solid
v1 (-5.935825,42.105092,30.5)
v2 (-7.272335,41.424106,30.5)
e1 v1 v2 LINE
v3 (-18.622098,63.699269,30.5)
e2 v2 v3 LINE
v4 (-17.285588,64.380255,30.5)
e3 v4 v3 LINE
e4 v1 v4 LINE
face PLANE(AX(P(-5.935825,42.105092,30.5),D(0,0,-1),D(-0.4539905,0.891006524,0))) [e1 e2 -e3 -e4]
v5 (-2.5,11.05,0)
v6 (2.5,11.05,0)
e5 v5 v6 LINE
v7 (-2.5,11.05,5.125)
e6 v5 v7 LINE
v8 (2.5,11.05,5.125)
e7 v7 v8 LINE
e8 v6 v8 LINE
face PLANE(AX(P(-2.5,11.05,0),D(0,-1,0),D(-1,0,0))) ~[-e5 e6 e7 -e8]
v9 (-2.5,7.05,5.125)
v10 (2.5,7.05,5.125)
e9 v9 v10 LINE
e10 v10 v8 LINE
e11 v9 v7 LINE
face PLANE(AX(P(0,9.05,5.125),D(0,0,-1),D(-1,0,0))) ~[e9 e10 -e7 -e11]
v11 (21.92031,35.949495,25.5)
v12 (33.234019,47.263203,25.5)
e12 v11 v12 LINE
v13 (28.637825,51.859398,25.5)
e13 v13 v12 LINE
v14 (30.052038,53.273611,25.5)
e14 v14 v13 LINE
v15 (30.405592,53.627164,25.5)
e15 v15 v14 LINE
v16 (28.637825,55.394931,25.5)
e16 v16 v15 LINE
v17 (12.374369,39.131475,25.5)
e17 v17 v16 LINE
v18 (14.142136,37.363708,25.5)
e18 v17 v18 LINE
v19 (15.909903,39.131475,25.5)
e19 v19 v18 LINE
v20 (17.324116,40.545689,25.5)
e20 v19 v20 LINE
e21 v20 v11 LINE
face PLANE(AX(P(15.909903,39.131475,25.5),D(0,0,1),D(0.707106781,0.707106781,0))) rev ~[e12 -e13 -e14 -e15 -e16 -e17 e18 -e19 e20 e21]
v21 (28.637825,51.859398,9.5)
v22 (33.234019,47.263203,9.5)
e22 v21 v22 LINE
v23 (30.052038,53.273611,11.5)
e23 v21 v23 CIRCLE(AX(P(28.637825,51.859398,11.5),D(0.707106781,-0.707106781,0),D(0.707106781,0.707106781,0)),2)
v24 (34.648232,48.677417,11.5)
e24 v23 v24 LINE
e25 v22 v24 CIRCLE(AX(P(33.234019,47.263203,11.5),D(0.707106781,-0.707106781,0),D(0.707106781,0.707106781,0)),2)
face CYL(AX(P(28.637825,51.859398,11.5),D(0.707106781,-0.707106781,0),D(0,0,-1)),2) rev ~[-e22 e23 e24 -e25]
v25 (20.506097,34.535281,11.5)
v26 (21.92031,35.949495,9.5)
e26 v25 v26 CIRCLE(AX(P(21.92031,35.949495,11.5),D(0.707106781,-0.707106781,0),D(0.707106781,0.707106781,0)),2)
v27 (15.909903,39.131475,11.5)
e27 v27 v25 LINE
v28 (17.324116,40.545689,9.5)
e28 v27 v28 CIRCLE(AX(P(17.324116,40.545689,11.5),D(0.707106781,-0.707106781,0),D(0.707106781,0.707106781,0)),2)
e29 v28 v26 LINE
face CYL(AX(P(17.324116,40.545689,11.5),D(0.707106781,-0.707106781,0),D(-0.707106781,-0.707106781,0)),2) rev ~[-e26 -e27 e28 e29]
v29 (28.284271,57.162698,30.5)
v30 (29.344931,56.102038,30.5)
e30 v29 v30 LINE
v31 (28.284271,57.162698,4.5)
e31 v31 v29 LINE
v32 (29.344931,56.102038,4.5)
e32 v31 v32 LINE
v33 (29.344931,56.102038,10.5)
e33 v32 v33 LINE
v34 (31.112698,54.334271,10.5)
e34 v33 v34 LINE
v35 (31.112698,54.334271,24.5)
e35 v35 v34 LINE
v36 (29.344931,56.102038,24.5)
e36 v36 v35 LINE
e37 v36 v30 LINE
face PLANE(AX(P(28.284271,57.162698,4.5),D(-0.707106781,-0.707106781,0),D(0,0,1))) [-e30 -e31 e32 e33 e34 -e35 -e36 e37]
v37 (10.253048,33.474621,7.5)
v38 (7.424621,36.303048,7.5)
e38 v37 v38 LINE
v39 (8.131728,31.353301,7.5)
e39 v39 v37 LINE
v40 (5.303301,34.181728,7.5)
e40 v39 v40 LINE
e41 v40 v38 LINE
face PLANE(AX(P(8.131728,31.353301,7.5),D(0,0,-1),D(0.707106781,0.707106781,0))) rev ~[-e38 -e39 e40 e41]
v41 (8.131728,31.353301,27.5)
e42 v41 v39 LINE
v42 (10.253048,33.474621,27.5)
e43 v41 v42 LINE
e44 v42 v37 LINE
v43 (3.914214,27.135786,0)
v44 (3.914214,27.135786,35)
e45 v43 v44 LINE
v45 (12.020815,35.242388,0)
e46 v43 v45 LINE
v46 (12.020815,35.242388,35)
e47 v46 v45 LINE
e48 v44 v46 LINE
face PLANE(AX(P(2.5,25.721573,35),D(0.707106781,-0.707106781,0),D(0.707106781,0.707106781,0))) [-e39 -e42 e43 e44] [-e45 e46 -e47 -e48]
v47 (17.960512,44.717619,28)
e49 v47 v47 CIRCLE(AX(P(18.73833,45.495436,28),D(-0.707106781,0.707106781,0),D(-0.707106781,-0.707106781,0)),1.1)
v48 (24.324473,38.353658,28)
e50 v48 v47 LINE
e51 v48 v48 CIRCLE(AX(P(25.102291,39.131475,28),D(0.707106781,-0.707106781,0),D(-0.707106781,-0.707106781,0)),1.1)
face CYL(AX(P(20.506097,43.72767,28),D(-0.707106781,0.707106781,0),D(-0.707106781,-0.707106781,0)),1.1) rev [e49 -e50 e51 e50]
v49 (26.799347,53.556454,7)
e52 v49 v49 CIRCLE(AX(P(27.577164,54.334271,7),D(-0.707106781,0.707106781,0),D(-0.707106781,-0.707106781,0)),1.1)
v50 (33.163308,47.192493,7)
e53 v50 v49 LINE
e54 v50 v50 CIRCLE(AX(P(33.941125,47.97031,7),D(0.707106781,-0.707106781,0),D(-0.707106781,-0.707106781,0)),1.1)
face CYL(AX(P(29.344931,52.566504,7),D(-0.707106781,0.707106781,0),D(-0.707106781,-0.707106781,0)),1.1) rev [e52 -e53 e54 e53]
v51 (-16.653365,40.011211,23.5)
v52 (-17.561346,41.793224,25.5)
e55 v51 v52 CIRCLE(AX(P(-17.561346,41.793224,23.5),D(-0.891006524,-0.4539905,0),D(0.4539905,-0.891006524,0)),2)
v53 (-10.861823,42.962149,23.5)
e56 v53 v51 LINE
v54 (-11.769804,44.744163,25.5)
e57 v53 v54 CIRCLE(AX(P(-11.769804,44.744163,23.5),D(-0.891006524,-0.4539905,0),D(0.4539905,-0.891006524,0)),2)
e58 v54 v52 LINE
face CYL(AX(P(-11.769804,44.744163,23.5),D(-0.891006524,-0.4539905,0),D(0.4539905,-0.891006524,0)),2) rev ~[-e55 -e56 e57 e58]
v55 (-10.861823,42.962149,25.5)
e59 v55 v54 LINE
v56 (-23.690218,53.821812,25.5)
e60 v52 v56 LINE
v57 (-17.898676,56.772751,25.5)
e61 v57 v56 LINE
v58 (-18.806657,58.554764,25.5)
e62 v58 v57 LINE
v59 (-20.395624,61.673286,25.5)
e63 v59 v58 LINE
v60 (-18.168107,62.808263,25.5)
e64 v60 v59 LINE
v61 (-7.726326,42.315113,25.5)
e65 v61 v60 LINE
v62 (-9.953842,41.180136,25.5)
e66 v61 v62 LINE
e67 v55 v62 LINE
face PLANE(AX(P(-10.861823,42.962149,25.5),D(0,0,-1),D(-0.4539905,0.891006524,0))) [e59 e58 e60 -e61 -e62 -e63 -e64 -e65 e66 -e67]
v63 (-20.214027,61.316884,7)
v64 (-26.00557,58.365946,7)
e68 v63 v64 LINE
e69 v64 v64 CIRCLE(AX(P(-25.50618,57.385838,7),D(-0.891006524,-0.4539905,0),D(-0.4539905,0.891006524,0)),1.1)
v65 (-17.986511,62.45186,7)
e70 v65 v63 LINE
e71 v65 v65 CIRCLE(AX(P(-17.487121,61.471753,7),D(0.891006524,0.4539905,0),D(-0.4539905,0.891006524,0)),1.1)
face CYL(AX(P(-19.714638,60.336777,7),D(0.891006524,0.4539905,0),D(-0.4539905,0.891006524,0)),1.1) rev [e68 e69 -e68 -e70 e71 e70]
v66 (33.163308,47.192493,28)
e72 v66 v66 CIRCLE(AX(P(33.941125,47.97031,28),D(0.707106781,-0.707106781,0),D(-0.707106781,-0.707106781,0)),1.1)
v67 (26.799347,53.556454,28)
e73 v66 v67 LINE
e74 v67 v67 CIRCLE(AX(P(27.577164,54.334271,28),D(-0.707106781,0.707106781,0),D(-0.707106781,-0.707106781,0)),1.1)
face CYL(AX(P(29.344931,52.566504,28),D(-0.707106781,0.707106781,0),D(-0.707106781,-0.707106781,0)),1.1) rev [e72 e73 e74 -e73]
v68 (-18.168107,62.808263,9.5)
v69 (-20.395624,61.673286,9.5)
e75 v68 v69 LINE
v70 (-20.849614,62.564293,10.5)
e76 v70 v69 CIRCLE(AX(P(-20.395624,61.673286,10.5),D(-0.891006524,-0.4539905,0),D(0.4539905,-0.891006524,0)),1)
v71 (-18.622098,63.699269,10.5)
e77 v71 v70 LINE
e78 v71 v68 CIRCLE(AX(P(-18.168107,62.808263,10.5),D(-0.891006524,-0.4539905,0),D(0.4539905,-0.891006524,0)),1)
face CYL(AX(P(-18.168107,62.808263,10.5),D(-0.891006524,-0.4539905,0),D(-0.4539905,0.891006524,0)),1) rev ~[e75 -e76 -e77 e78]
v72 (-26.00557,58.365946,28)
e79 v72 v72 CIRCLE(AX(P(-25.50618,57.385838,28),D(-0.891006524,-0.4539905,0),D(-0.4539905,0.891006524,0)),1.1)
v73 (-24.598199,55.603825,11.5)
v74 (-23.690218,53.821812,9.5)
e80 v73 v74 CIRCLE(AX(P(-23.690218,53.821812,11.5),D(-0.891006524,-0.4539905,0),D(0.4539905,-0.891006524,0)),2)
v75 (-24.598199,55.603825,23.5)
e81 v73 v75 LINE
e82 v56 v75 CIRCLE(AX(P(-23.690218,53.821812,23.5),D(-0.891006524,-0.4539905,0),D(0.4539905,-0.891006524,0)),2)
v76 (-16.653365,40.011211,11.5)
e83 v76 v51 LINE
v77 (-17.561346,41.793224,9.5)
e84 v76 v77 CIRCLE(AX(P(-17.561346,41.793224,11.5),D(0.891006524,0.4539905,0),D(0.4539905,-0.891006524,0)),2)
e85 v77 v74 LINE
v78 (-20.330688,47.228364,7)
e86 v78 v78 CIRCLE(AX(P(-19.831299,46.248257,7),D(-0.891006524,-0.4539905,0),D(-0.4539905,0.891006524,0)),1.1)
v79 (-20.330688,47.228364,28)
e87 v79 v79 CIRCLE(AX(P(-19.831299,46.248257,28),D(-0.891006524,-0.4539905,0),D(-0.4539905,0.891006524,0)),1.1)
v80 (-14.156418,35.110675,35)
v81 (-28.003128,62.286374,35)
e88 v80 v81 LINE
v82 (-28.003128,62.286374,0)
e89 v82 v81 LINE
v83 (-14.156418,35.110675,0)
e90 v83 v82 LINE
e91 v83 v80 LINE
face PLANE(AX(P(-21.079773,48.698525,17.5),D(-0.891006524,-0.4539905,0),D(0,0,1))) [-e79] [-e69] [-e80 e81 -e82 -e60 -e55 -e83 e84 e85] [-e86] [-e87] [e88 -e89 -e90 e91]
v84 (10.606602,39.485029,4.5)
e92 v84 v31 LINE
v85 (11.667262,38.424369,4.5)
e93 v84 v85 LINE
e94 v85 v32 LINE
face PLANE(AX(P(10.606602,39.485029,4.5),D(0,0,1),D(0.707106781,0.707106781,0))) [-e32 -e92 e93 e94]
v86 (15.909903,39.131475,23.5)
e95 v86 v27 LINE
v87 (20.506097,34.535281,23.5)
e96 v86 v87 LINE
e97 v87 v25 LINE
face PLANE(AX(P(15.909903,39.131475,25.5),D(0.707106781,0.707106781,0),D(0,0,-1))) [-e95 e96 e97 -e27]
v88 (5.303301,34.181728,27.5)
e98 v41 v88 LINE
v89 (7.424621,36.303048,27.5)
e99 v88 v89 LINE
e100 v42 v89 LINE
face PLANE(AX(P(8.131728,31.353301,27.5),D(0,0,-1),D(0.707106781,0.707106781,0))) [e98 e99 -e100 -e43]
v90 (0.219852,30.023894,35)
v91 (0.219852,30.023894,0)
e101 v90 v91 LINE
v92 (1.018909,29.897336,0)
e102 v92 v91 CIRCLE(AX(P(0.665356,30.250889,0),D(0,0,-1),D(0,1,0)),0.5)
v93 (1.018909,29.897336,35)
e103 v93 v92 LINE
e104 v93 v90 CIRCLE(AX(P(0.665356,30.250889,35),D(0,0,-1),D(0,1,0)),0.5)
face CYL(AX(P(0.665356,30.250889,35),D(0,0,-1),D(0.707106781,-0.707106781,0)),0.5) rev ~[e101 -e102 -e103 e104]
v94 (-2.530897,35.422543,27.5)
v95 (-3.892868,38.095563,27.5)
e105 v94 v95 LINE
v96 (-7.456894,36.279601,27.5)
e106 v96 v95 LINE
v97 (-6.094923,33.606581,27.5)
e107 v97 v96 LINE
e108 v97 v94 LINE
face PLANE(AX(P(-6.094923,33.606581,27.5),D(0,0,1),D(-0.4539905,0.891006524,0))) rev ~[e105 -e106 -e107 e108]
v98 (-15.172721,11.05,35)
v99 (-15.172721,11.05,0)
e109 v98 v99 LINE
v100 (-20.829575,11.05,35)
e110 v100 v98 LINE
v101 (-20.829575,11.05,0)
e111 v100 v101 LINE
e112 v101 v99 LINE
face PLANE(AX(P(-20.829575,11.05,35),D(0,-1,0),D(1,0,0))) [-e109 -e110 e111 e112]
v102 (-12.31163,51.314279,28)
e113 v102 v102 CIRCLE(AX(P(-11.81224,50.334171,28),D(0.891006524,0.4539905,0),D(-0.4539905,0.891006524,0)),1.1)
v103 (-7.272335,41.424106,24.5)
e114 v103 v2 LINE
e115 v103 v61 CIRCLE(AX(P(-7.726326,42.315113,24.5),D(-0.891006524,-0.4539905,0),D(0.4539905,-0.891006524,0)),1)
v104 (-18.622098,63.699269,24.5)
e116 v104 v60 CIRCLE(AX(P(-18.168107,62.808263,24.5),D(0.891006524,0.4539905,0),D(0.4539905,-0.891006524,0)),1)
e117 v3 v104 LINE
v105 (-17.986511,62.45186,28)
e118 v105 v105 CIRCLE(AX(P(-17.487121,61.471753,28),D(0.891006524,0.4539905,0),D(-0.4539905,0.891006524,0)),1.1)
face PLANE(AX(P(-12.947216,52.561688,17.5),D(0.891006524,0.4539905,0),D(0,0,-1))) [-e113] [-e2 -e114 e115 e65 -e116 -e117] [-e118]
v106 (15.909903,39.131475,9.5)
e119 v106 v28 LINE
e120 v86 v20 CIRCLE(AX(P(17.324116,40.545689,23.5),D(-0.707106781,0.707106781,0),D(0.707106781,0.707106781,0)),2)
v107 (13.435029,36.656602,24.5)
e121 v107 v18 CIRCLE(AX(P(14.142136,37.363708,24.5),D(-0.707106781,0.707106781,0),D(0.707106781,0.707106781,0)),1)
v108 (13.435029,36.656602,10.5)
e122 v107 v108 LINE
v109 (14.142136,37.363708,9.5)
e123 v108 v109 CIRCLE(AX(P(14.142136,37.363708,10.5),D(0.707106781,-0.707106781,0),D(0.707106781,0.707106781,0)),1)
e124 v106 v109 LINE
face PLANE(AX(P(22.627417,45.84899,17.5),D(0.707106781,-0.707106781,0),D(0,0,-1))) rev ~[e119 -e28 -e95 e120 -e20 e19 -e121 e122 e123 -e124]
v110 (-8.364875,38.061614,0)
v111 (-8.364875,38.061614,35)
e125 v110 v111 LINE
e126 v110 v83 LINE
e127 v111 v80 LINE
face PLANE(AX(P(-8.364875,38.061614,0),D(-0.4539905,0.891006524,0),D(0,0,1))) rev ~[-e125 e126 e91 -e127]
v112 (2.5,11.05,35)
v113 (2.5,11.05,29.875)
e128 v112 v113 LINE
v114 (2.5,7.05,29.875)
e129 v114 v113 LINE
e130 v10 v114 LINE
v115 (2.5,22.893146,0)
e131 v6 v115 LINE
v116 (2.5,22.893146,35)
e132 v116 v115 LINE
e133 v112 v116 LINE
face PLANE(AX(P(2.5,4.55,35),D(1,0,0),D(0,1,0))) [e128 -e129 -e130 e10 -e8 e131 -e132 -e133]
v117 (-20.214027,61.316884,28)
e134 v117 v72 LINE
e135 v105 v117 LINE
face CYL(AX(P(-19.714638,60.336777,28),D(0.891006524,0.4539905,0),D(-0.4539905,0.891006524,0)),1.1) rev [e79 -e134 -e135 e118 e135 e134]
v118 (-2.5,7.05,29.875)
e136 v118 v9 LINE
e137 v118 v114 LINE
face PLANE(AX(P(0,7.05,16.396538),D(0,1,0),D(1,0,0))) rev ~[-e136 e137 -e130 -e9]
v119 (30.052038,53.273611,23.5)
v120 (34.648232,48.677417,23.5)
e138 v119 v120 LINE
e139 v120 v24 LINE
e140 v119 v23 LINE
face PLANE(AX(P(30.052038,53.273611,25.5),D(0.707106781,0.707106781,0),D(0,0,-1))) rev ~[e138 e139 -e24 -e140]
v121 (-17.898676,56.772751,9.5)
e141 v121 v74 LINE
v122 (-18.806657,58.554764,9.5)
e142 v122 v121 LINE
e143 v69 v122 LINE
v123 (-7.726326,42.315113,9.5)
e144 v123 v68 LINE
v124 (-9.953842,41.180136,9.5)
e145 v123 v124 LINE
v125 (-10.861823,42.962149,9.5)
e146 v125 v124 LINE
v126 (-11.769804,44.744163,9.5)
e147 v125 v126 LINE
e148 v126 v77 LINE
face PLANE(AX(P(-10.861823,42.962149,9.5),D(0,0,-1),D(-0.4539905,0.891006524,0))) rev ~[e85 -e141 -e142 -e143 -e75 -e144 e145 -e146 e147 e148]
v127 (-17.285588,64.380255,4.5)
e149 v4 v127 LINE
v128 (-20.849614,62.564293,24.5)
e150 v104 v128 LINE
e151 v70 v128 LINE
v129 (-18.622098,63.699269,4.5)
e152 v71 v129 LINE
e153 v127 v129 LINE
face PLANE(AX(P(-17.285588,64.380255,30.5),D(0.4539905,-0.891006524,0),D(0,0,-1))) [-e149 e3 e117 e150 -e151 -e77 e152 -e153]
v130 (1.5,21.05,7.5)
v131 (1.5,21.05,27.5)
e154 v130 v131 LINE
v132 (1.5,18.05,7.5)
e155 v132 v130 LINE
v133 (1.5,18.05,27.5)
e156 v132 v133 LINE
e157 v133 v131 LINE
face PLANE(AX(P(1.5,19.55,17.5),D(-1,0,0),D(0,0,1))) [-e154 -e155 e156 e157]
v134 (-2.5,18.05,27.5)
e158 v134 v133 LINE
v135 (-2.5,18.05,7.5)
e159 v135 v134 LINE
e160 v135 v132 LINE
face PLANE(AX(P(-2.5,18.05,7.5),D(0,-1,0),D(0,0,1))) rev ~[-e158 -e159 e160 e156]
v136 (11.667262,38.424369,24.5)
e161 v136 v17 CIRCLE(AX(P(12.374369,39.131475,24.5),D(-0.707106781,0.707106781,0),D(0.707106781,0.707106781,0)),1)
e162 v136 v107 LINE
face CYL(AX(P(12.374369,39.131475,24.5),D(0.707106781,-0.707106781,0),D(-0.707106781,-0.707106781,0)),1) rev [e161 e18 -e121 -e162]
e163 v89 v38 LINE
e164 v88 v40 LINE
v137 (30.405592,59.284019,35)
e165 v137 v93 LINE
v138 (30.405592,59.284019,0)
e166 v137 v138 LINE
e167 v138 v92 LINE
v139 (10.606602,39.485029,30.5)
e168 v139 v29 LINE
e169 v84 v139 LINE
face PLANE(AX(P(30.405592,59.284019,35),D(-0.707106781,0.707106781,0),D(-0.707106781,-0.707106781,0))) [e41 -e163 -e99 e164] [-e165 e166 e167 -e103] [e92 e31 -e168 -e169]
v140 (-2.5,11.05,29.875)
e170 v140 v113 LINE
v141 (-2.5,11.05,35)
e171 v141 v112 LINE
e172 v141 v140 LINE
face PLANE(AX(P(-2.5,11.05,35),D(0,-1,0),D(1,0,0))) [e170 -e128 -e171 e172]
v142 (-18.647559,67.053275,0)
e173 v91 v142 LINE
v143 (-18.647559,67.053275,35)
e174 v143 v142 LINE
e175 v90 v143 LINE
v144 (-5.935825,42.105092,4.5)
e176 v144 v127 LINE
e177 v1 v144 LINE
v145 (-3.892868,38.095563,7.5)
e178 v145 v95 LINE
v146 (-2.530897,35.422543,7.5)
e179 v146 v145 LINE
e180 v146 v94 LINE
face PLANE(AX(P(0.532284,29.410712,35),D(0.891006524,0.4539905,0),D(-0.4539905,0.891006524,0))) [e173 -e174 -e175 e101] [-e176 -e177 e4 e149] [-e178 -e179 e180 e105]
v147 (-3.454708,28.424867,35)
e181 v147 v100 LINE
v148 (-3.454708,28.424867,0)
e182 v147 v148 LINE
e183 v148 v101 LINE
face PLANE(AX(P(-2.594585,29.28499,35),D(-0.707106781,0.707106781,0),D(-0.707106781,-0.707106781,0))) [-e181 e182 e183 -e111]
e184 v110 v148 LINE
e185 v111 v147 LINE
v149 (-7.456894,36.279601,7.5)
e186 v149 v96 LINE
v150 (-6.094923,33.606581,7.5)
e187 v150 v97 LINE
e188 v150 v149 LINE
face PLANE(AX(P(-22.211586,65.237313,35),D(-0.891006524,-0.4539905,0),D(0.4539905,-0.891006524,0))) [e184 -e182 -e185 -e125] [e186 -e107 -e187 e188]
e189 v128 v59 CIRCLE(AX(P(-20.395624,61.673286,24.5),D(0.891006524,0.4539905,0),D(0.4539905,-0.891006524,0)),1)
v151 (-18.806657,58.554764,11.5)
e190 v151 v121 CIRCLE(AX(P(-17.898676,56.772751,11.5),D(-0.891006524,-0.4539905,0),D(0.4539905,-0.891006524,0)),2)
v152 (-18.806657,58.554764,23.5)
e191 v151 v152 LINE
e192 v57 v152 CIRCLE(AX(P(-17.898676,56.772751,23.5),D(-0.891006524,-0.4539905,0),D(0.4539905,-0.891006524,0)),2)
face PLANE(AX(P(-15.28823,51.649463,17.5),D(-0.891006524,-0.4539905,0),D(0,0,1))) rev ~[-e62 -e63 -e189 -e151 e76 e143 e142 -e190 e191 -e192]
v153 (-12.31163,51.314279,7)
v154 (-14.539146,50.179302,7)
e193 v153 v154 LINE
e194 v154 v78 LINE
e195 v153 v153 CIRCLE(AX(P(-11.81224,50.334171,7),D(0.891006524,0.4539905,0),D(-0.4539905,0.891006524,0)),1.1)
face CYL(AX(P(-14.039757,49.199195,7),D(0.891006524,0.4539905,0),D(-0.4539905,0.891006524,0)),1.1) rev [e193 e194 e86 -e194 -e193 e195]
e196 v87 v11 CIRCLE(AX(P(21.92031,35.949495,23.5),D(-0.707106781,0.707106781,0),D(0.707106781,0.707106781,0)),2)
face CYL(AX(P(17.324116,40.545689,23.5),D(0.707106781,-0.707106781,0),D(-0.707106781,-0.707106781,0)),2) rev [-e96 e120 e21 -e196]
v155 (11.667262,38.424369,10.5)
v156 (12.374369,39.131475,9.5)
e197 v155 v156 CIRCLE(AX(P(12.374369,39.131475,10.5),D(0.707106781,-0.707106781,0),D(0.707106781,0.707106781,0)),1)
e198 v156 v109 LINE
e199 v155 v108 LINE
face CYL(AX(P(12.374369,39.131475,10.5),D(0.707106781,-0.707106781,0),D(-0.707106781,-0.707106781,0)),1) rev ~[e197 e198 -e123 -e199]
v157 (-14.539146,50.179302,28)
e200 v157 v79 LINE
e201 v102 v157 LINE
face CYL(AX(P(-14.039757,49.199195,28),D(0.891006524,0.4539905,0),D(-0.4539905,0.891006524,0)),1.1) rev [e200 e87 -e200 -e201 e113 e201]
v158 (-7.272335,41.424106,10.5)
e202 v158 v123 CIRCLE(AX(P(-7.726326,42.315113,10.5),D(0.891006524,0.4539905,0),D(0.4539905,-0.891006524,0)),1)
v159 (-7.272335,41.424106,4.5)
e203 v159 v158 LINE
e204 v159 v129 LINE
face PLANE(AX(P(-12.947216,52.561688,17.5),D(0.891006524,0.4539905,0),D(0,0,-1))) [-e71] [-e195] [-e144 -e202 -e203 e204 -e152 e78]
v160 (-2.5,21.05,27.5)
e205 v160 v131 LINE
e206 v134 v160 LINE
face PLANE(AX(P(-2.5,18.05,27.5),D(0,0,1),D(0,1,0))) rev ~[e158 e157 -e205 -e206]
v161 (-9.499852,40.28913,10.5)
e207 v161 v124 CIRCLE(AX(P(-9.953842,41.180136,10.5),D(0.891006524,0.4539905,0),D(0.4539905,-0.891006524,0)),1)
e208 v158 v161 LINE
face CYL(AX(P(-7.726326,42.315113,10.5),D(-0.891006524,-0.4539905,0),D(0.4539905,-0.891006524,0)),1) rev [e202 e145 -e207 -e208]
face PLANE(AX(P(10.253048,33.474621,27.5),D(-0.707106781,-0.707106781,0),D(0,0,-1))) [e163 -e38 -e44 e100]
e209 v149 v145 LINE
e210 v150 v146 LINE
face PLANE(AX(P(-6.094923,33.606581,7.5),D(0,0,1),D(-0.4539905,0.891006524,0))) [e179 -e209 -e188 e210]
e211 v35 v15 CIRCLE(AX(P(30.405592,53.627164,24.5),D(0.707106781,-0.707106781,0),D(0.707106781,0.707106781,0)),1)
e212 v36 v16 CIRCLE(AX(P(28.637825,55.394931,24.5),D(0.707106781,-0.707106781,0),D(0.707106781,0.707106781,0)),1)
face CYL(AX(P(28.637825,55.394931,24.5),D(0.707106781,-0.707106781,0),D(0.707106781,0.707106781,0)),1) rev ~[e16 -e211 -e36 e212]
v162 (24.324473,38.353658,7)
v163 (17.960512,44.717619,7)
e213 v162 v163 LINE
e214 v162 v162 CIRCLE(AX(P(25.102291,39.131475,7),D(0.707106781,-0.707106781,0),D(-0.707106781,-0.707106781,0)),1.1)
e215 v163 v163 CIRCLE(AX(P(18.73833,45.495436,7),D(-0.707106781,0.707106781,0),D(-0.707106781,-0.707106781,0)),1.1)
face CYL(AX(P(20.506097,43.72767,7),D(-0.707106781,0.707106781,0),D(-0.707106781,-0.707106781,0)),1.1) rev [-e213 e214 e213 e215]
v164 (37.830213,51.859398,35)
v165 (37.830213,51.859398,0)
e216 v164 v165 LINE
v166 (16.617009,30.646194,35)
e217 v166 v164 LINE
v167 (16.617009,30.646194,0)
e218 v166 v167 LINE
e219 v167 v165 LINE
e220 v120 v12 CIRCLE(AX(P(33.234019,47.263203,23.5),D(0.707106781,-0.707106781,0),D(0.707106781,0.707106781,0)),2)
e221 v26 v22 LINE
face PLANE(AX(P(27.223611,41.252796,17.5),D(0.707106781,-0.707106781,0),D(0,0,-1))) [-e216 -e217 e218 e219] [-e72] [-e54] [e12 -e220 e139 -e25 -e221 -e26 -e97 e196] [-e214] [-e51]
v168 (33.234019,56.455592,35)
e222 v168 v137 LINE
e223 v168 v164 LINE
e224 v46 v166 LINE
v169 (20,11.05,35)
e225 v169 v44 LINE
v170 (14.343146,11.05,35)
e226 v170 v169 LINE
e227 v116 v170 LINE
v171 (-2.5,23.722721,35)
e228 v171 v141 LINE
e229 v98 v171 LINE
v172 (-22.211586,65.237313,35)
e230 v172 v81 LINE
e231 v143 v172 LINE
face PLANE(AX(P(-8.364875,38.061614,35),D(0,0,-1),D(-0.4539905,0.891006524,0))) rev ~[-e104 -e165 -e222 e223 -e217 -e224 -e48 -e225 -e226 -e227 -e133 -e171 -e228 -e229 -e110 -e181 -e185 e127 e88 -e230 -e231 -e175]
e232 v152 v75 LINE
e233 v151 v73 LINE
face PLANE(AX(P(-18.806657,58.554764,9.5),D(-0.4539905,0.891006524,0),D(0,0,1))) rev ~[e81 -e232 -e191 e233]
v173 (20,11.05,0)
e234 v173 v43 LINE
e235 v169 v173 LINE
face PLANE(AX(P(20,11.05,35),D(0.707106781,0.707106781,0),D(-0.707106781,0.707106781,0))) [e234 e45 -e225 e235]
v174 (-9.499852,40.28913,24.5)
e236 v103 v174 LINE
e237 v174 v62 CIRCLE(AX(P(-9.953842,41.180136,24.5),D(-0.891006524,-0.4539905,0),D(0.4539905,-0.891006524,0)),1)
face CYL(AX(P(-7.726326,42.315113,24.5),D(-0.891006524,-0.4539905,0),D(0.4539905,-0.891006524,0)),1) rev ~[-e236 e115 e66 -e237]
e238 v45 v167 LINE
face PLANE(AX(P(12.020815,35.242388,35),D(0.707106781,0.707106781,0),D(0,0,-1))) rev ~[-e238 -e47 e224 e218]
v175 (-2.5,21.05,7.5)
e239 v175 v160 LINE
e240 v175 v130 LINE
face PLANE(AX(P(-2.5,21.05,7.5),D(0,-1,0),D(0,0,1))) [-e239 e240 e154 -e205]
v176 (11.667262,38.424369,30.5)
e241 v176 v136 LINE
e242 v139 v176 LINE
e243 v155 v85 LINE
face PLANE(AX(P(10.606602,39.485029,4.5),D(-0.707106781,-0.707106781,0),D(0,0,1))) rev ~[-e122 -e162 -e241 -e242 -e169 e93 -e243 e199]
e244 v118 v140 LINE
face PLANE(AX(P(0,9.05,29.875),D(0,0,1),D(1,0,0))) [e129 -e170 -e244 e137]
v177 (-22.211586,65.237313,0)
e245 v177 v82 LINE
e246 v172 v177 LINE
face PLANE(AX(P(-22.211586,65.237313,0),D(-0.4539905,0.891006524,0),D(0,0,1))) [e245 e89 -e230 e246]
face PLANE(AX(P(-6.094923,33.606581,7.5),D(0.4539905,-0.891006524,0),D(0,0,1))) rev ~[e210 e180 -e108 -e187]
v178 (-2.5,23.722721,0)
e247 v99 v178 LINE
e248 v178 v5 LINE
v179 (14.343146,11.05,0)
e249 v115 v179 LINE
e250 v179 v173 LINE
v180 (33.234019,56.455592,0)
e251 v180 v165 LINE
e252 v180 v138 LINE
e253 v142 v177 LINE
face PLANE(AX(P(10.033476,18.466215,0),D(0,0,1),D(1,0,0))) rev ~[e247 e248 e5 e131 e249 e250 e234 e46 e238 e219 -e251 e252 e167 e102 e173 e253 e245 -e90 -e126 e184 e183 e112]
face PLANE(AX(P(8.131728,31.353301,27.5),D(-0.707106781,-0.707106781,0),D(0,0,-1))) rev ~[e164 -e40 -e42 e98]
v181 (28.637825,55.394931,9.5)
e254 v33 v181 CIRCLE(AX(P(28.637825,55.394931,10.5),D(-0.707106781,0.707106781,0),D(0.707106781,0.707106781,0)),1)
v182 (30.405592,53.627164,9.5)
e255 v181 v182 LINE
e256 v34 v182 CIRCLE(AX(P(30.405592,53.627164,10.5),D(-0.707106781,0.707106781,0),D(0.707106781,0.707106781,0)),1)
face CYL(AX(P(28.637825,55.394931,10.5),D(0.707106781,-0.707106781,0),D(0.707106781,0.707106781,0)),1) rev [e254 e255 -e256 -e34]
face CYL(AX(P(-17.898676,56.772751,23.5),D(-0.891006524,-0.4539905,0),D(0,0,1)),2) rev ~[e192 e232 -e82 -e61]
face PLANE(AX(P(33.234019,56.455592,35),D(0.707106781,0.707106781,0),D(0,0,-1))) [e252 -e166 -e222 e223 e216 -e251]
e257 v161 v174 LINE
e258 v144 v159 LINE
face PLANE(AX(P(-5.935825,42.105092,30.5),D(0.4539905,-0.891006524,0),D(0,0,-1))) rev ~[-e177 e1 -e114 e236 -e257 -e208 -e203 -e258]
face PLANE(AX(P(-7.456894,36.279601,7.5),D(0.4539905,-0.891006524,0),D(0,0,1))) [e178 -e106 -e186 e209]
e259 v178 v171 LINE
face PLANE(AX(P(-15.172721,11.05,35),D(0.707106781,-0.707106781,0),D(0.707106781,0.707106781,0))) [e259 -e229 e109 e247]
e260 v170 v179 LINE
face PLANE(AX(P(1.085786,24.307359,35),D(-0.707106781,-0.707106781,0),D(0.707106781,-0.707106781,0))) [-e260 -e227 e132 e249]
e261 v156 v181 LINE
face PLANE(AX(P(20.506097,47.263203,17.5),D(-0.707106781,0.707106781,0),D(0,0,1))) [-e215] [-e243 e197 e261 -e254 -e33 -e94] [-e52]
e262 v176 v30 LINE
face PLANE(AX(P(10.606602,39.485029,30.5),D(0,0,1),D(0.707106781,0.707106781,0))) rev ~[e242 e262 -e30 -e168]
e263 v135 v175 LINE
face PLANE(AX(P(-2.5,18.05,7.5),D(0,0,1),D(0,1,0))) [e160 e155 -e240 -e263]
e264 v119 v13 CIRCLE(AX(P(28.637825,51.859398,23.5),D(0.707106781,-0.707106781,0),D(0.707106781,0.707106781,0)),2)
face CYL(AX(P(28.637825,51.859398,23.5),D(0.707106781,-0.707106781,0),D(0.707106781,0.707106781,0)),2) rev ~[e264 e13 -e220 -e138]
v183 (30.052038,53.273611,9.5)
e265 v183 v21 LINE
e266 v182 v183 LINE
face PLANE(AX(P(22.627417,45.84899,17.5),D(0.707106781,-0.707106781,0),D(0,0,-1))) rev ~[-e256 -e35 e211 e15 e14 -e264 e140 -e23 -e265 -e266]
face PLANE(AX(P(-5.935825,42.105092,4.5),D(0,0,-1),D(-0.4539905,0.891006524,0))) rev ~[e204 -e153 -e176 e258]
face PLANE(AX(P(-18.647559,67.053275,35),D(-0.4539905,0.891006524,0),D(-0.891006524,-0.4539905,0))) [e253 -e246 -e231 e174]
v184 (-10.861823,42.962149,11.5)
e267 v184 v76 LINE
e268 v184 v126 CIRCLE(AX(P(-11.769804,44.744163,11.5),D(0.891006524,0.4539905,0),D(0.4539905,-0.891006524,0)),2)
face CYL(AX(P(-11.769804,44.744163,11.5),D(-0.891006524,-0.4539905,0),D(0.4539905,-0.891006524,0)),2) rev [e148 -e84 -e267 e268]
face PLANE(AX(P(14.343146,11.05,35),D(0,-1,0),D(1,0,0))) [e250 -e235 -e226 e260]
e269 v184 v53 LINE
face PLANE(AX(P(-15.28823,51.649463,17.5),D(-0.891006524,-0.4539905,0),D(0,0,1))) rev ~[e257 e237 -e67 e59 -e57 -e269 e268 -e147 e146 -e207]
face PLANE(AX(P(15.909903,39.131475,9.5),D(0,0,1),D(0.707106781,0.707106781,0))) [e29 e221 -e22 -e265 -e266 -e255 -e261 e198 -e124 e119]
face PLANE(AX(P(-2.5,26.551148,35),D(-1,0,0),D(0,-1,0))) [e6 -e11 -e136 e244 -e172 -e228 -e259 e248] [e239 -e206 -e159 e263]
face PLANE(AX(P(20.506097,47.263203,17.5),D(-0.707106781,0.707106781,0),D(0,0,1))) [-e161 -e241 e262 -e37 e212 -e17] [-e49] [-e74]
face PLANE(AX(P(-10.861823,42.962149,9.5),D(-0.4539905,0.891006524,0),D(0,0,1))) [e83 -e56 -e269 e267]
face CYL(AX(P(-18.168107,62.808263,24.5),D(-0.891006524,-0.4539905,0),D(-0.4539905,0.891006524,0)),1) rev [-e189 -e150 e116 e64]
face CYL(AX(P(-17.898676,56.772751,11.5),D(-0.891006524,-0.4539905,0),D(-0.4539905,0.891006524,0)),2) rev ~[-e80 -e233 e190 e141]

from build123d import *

# Parameters (mm, degrees)
BOSS_EXTRUDE1_DEPTH      = 35
BOSS_EXTRUDE2_DEPTH      = 35
FILLET1_R                = 0.5
SKETCH3_W                = 26
SKETCH3_H                = 25
CUT_EXTRUDE1_DEPTH       = 1.5
SKETCH4_W                = 16
SKETCH4_H                = 25
CUT_EXTRUDE2_DEPTH       = 5
FILLET3_R                = 1
SKETCH5_W                = 26
SKETCH5_H                = 25
CUT_EXTRUDE3_DEPTH       = 1.5
SKETCH6_W                = 16
SKETCH6_H                = 25
CUT_EXTRUDE4_DEPTH       = 5
FILLET4_R                = 1
SKETCH8_W                = 20
SKETCH8_H                = 3
CUT_EXTRUDE5_DEPTH       = 4
SKETCH9_W                = 20
SKETCH9_H                = 3
CUT_EXTRUDE6_DEPTH       = 4
SKETCH10_W               = 20
SKETCH10_H               = 3
CUT_EXTRUDE7_DEPTH       = 4
SKETCH11_R               = 1.1
CUT_EXTRUDE8_DEPTH       = 10
SKETCH12_R               = 1.1
CUT_EXTRUDE9_DEPTH       = 5
BOSS_EXTRUDE3_DEPTH      = 3.5
BOSS_EXTRUDE3_DEPTH_BACK = 1
SKETCH14_W               = 35
SKETCH14_H               = 3.801557548
SKETCH15_W               = 1.5
SKETCH15_H               = 31
CUT_EXTRUDE10_DEPTH      = 5
SKETCH18_W               = 35
SKETCH18_H               = 30
SKETCH18_R               = 1.1
SKETCH18_W_2             = 16
SKETCH18_H_2             = 20
BOSS_EXTRUDE4_DEPTH      = 6.5
SKETCH19_W               = 35
SKETCH19_H               = 30.5
SKETCH19_R               = 1.1
SKETCH19_W_2             = 16
SKETCH19_H_2             = 17.5
BOSS_EXTRUDE5_DEPTH      = 6.5
CUT_EXTRUDE12_DEPTH      = 2.5
CUT_EXTRUDE12_DEPTH_BACK = 10
SKETCH20_W               = 93.401628658
SKETCH20_H               = 53.255346894
SKETCH21_W               = 5
SKETCH21_H               = 4
CUT_EXTRUDE13_DEPTH      = 5.125
FILLET9_R                = 2
FILLET10_R               = 2
BOSS_EXTRUDE8_DEPTH      = 35


with BuildPart() as part:
    # Sketch1 → Boss-Extrude1 (new body)
    with BuildSketch(Plane.XY):
        Polygon((6.55, 4.55), (-6.55, 4.55), (-6.55, -4.55), (-2.05, -4.55), (-2.05, -2.05), (-4.05, -2.05), (-4.05, 2.05), (4.05, 2.05), (4.05, -2.05), (2.05, -2.05), (2.05, -4.55), (6.55, -4.55), align=None)
    extrude(amount=BOSS_EXTRUDE1_DEPTH)

    # Sketch2 → Boss-Extrude2 (add, through all)
    with BuildSketch(Plane.XY.offset(35)):
        Polygon((2.5, 4.55), (2.5, 25.721572875), (33.234018716, 56.455591591), (30.405591591, 59.284018716), (0.532284417, 29.410711541), (-18.64755944, 67.053274588), (-22.211585537, 65.237312589), (-2.5, 26.551147735), (-2.5, 4.55), align=None)
    extrude(amount=-BOSS_EXTRUDE2_DEPTH)

    # Fillet1
    fillet1_edges = [part.edges().sort_by_distance(p)[0] for p in [
        (0.532284417, 29.410711541, 17.5),
    ]]
    fillet(fillet1_edges, radius=FILLET1_R)

    # Sketch3 → Cut-Extrude1 (cut)
    with BuildSketch(Plane(origin=(-14.439213562, 14.439213562, 0), x_dir=(0, 0, 1), z_dir=(-0.7071067811865464, 0.7071067811865488, 0))):
        with Locations((17.5, 47.92013165)):
            Rectangle(SKETCH3_W, SKETCH3_H)
    extrude(amount=-CUT_EXTRUDE1_DEPTH, mode=Mode.SUBTRACT)

    # Sketch4 → Cut-Extrude2 (cut)
    with BuildSketch(Plane(origin=(-13.378553391, 13.378553391, 0), x_dir=(0, 0, 1), z_dir=(-0.7071067811865461, 0.707106781186549, 0))):
        with Locations((17.5, 47.92013165)):
            Rectangle(SKETCH4_W, SKETCH4_H)
    extrude(amount=-CUT_EXTRUDE2_DEPTH, mode=Mode.SUBTRACT)

    # Fillet3
    fillet3_edges = [part.edges().sort_by_distance(p)[0] for p in [
        (30.228814896, 55.218154724, 9.5),
        (30.228814896, 55.218154724, 25.5),
        (12.551145366, 37.540485194, 25.5),
        (12.551145366, 37.540485194, 9.5),
    ]]
    fillet(fillet3_edges, radius=FILLET3_R)

    # Sketch5 → Cut-Extrude3 (cut)
    with BuildSketch(Plane(origin=(12.3194594, 6.277078088, 0), x_dir=(0, 0, -1), z_dir=(0.8910065241883675, 0.45399049973954786, 0))):
        with Locations((-17.5, 52.710719955)):
            Rectangle(SKETCH5_W, SKETCH5_H)
    extrude(amount=-CUT_EXTRUDE3_DEPTH, mode=Mode.SUBTRACT)

    # Sketch6 → Cut-Extrude4 (cut)
    with BuildSketch(Plane(origin=(10.982949614, 5.596092339, 0), x_dir=(0, 0, -1), z_dir=(0.8910065241883673, 0.4539904997395479, 0))):
        with Locations((-17.5, 52.710719955)):
            Rectangle(SKETCH6_W, SKETCH6_H)
    extrude(amount=-CUT_EXTRUDE4_DEPTH, mode=Mode.SUBTRACT)

    # Fillet4
    fillet4_edges = [part.edges().sort_by_distance(p)[0] for p in [
        (-19.735855882, 63.131781141, 25.5),
        (-19.735855882, 63.131781141, 9.5),
        (-8.386093389, 40.856618036, 9.5),
        (-8.386093389, 40.856618036, 25.5),
    ]]
    fillet(fillet4_edges, radius=FILLET4_R)

    # Sketch8 → Cut-Extrude5 (cut)
    with BuildSketch(Plane(origin=(-11.610786438, 11.610786438, 0), x_dir=(0, 0, -1), z_dir=(0.7071067811865465, -0.7071067811865487, 0))):
        with Locations((-17.5, 29.42013165)):
            Rectangle(SKETCH8_W, SKETCH8_H)
    extrude(amount=-CUT_EXTRUDE5_DEPTH, mode=Mode.SUBTRACT)

    # Sketch9 → Cut-Extrude6 (cut)
    with BuildSketch(Plane(origin=(8.755433303, 4.461116089, 0), x_dir=(0, 0, 1), z_dir=(-0.8910065241883675, -0.45399049973954797, 0))):
        with Locations((17.5, 34.210719955)):
            Rectangle(SKETCH9_W, SKETCH9_H)
    extrude(amount=-CUT_EXTRUDE6_DEPTH, mode=Mode.SUBTRACT)

    # Sketch10 → Cut-Extrude7 (cut)
    with BuildSketch(Plane.ZY.offset(2.5)):
        with Locations((17.5, 19.55)):
            Rectangle(SKETCH10_W, SKETCH10_H)
    extrude(amount=-CUT_EXTRUDE7_DEPTH, mode=Mode.SUBTRACT)

    # Sketch11 → Cut-Extrude8 (cut)
    with BuildSketch(Plane(origin=(-13.378553391, 13.378553391, 0), x_dir=(0, 0, 1), z_dir=(-0.7071067811865461, 0.707106781186549, 0))):
        with Locations(Location((28, 57.92013165, 0), (0, 0, 270))):
            Circle(SKETCH11_R)
        with Locations(Location((7, 57.92013165, 0), (0, 0, 270))):
            Circle(SKETCH11_R)
        with Locations(Location((28, 45.42013165, 0), (0, 0, 270))):
            Circle(SKETCH11_R)
        with Locations(Location((7, 45.42013165, 0), (0, 0, 270))):
            Circle(SKETCH11_R)
    extrude(amount=-CUT_EXTRUDE8_DEPTH, mode=Mode.SUBTRACT)

    # Sketch12 → Cut-Extrude9 (cut)
    with BuildSketch(Plane(origin=(10.982949614, 5.596092339, 0), x_dir=(0, 0, -1), z_dir=(0.8910065241883673, 0.4539904997395479, 0))):
        with Locations(Location((-7, 62.710719955, 0), (0, 0, 90))):
            Circle(SKETCH12_R)
        with Locations(Location((-28, 62.710719955, 0), (0, 0, 90))):
            Circle(SKETCH12_R)
        with Locations(Location((-7, 50.210719955, 0), (0, 0, 90))):
            Circle(SKETCH12_R)
        with Locations(Location((-28, 50.210719955, 0), (0, 0, 90))):
            Circle(SKETCH12_R)
    extrude(amount=-CUT_EXTRUDE9_DEPTH, mode=Mode.SUBTRACT)

    # Sketch14 → Boss-Extrude3 (add, two sides: drawn at the far end of the back side and taken through both)
    with BuildSketch(Plane(origin=(6.55, 0, 0), x_dir=(0, 0, -1), z_dir=(1, 0, 0)).offset(-BOSS_EXTRUDE3_DEPTH_BACK)):
        with Locations((-17.5, -0.05)):
            Rectangle(SKETCH14_W, SKETCH14_H)
    extrude(amount=BOSS_EXTRUDE3_DEPTH + BOSS_EXTRUDE3_DEPTH_BACK)

    # Sketch15 → Cut-Extrude10 (cut)
    with BuildSketch(Plane(origin=(0, 1.850778774, 0), x_dir=(1, 0, 0), z_dir=(0, 1, 0))):
        with Locations((7.3, -17.5)):
            Rectangle(SKETCH15_W, SKETCH15_H)
    extrude(amount=-CUT_EXTRUDE10_DEPTH, mode=Mode.SUBTRACT)

    # Sketch18 → Boss-Extrude4 (add)
    with BuildSketch(Plane(origin=(-11.610786438, 11.610786438, 0), x_dir=(0, 0, -1), z_dir=(0.7071067811865465, -0.7071067811865487, 0))):
        with Locations((-17.5, 48.42013165)):
            Rectangle(SKETCH18_W, SKETCH18_H)
        with Locations(Location((-7, 57.92013165, 0), (0, 0, 270))):
            Circle(SKETCH18_R, mode=Mode.SUBTRACT)
        with Locations(Location((-7, 45.42013165, 0), (0, 0, 270))):
            Circle(SKETCH18_R, mode=Mode.SUBTRACT)
        with Locations(Location((-28, 45.42013165, 0), (0, 0, 270))):
            Circle(SKETCH18_R, mode=Mode.SUBTRACT)
        with Locations(Location((-28, 57.92013165, 0), (0, 0, 270))):
            Circle(SKETCH18_R, mode=Mode.SUBTRACT)
        with Locations((-17.5, 48.92013165)):
            Rectangle(SKETCH18_W_2, SKETCH18_H_2, mode=Mode.SUBTRACT)
    extrude(amount=BOSS_EXTRUDE4_DEPTH)

    # Sketch19 → Boss-Extrude5 (add)
    with BuildSketch(Plane(origin=(8.755433303, 4.461116089, 0), x_dir=(0, 0, 1), z_dir=(-0.8910065241883673, -0.45399049973954797, 0))):
        with Locations((17.5, 52.960719955)):
            Rectangle(SKETCH19_W, SKETCH19_H)
        with Locations(Location((28, 50.210719955, 0), (0, 0, 90))):
            Circle(SKETCH19_R, mode=Mode.SUBTRACT)
        with Locations(Location((7, 50.210719955, 0), (0, 0, 90))):
            Circle(SKETCH19_R, mode=Mode.SUBTRACT)
        with Locations(Location((7, 62.710719955, 0), (0, 0, 90))):
            Circle(SKETCH19_R, mode=Mode.SUBTRACT)
        with Locations(Location((28, 62.710719955, 0), (0, 0, 90))):
            Circle(SKETCH19_R, mode=Mode.SUBTRACT)
        with Locations((17.5, 51.960719955)):
            Rectangle(SKETCH19_W_2, SKETCH19_H_2, mode=Mode.SUBTRACT)
    extrude(amount=BOSS_EXTRUDE5_DEPTH)

    # Sketch20 → Cut-Extrude12 (cut, two sides: drawn at the far end of the back side and taken through both)
    with BuildSketch(Plane(origin=(0, 4.55, 0), x_dir=(1, 0, 0), z_dir=(0, 1, 0)).offset(-CUT_EXTRUDE12_DEPTH_BACK)):
        with Locations((0, -16.396538254)):
            Rectangle(SKETCH20_W, SKETCH20_H)
    extrude(amount=CUT_EXTRUDE12_DEPTH + CUT_EXTRUDE12_DEPTH_BACK, mode=Mode.SUBTRACT)

    # Sketch21 → Cut-Extrude13 (cut)
    with BuildSketch(Plane.XY.offset(35)):
        with Locations((0, 9.05)):
            Rectangle(SKETCH21_W, SKETCH21_H)
    cut_extrude13 = extrude(amount=-CUT_EXTRUDE13_DEPTH, mode=Mode.SUBTRACT)

    # Mirror1: Cut-Extrude13 across plane
    add(cut_extrude13.mirror(Plane(origin=(0, 0, 17.5), x_dir=(1, 0, 0), z_dir=(0, 0, -1))), mode=Mode.SUBTRACT)

    # Fillet9
    fillet9_edges = [part.edges().sort_by_distance(p)[0] for p in [
        (-21.702427992, 57.079294533, 9.5),
        (-13.757594247, 41.48668036, 9.5),
        (-13.757594247, 41.48668036, 25.5),
        (-21.702427992, 57.079294533, 25.5),
    ]]
    fillet(fillet9_edges, radius=FILLET9_R)

    # Fillet10
    fillet10_edges = [part.edges().sort_by_distance(p)[0] for p in [
        (32.350135239, 50.975514037, 25.5),
        (18.207999616, 36.833378413, 25.5),
        (18.207999616, 36.833378413, 9.5),
        (32.350135239, 50.975514037, 9.5),
    ]]
    fillet(fillet10_edges, radius=FILLET10_R)

    # Sketch25 → Boss-Extrude8 (add, through all)
    with BuildSketch(Plane.XY.offset(35)):
        Polygon((1.085786438, 24.307359313), (14.343145751, 11.05), (20, 11.05), (3.093757121, 27.956242879), align=None)
        Polygon((-2.594584578, 29.284990281), (-20.829574859, 11.05), (-15.17272061, 11.05), (-1.085786438, 25.136934172), align=None)
    extrude(amount=-BOSS_EXTRUDE8_DEPTH)


solid = part.part
